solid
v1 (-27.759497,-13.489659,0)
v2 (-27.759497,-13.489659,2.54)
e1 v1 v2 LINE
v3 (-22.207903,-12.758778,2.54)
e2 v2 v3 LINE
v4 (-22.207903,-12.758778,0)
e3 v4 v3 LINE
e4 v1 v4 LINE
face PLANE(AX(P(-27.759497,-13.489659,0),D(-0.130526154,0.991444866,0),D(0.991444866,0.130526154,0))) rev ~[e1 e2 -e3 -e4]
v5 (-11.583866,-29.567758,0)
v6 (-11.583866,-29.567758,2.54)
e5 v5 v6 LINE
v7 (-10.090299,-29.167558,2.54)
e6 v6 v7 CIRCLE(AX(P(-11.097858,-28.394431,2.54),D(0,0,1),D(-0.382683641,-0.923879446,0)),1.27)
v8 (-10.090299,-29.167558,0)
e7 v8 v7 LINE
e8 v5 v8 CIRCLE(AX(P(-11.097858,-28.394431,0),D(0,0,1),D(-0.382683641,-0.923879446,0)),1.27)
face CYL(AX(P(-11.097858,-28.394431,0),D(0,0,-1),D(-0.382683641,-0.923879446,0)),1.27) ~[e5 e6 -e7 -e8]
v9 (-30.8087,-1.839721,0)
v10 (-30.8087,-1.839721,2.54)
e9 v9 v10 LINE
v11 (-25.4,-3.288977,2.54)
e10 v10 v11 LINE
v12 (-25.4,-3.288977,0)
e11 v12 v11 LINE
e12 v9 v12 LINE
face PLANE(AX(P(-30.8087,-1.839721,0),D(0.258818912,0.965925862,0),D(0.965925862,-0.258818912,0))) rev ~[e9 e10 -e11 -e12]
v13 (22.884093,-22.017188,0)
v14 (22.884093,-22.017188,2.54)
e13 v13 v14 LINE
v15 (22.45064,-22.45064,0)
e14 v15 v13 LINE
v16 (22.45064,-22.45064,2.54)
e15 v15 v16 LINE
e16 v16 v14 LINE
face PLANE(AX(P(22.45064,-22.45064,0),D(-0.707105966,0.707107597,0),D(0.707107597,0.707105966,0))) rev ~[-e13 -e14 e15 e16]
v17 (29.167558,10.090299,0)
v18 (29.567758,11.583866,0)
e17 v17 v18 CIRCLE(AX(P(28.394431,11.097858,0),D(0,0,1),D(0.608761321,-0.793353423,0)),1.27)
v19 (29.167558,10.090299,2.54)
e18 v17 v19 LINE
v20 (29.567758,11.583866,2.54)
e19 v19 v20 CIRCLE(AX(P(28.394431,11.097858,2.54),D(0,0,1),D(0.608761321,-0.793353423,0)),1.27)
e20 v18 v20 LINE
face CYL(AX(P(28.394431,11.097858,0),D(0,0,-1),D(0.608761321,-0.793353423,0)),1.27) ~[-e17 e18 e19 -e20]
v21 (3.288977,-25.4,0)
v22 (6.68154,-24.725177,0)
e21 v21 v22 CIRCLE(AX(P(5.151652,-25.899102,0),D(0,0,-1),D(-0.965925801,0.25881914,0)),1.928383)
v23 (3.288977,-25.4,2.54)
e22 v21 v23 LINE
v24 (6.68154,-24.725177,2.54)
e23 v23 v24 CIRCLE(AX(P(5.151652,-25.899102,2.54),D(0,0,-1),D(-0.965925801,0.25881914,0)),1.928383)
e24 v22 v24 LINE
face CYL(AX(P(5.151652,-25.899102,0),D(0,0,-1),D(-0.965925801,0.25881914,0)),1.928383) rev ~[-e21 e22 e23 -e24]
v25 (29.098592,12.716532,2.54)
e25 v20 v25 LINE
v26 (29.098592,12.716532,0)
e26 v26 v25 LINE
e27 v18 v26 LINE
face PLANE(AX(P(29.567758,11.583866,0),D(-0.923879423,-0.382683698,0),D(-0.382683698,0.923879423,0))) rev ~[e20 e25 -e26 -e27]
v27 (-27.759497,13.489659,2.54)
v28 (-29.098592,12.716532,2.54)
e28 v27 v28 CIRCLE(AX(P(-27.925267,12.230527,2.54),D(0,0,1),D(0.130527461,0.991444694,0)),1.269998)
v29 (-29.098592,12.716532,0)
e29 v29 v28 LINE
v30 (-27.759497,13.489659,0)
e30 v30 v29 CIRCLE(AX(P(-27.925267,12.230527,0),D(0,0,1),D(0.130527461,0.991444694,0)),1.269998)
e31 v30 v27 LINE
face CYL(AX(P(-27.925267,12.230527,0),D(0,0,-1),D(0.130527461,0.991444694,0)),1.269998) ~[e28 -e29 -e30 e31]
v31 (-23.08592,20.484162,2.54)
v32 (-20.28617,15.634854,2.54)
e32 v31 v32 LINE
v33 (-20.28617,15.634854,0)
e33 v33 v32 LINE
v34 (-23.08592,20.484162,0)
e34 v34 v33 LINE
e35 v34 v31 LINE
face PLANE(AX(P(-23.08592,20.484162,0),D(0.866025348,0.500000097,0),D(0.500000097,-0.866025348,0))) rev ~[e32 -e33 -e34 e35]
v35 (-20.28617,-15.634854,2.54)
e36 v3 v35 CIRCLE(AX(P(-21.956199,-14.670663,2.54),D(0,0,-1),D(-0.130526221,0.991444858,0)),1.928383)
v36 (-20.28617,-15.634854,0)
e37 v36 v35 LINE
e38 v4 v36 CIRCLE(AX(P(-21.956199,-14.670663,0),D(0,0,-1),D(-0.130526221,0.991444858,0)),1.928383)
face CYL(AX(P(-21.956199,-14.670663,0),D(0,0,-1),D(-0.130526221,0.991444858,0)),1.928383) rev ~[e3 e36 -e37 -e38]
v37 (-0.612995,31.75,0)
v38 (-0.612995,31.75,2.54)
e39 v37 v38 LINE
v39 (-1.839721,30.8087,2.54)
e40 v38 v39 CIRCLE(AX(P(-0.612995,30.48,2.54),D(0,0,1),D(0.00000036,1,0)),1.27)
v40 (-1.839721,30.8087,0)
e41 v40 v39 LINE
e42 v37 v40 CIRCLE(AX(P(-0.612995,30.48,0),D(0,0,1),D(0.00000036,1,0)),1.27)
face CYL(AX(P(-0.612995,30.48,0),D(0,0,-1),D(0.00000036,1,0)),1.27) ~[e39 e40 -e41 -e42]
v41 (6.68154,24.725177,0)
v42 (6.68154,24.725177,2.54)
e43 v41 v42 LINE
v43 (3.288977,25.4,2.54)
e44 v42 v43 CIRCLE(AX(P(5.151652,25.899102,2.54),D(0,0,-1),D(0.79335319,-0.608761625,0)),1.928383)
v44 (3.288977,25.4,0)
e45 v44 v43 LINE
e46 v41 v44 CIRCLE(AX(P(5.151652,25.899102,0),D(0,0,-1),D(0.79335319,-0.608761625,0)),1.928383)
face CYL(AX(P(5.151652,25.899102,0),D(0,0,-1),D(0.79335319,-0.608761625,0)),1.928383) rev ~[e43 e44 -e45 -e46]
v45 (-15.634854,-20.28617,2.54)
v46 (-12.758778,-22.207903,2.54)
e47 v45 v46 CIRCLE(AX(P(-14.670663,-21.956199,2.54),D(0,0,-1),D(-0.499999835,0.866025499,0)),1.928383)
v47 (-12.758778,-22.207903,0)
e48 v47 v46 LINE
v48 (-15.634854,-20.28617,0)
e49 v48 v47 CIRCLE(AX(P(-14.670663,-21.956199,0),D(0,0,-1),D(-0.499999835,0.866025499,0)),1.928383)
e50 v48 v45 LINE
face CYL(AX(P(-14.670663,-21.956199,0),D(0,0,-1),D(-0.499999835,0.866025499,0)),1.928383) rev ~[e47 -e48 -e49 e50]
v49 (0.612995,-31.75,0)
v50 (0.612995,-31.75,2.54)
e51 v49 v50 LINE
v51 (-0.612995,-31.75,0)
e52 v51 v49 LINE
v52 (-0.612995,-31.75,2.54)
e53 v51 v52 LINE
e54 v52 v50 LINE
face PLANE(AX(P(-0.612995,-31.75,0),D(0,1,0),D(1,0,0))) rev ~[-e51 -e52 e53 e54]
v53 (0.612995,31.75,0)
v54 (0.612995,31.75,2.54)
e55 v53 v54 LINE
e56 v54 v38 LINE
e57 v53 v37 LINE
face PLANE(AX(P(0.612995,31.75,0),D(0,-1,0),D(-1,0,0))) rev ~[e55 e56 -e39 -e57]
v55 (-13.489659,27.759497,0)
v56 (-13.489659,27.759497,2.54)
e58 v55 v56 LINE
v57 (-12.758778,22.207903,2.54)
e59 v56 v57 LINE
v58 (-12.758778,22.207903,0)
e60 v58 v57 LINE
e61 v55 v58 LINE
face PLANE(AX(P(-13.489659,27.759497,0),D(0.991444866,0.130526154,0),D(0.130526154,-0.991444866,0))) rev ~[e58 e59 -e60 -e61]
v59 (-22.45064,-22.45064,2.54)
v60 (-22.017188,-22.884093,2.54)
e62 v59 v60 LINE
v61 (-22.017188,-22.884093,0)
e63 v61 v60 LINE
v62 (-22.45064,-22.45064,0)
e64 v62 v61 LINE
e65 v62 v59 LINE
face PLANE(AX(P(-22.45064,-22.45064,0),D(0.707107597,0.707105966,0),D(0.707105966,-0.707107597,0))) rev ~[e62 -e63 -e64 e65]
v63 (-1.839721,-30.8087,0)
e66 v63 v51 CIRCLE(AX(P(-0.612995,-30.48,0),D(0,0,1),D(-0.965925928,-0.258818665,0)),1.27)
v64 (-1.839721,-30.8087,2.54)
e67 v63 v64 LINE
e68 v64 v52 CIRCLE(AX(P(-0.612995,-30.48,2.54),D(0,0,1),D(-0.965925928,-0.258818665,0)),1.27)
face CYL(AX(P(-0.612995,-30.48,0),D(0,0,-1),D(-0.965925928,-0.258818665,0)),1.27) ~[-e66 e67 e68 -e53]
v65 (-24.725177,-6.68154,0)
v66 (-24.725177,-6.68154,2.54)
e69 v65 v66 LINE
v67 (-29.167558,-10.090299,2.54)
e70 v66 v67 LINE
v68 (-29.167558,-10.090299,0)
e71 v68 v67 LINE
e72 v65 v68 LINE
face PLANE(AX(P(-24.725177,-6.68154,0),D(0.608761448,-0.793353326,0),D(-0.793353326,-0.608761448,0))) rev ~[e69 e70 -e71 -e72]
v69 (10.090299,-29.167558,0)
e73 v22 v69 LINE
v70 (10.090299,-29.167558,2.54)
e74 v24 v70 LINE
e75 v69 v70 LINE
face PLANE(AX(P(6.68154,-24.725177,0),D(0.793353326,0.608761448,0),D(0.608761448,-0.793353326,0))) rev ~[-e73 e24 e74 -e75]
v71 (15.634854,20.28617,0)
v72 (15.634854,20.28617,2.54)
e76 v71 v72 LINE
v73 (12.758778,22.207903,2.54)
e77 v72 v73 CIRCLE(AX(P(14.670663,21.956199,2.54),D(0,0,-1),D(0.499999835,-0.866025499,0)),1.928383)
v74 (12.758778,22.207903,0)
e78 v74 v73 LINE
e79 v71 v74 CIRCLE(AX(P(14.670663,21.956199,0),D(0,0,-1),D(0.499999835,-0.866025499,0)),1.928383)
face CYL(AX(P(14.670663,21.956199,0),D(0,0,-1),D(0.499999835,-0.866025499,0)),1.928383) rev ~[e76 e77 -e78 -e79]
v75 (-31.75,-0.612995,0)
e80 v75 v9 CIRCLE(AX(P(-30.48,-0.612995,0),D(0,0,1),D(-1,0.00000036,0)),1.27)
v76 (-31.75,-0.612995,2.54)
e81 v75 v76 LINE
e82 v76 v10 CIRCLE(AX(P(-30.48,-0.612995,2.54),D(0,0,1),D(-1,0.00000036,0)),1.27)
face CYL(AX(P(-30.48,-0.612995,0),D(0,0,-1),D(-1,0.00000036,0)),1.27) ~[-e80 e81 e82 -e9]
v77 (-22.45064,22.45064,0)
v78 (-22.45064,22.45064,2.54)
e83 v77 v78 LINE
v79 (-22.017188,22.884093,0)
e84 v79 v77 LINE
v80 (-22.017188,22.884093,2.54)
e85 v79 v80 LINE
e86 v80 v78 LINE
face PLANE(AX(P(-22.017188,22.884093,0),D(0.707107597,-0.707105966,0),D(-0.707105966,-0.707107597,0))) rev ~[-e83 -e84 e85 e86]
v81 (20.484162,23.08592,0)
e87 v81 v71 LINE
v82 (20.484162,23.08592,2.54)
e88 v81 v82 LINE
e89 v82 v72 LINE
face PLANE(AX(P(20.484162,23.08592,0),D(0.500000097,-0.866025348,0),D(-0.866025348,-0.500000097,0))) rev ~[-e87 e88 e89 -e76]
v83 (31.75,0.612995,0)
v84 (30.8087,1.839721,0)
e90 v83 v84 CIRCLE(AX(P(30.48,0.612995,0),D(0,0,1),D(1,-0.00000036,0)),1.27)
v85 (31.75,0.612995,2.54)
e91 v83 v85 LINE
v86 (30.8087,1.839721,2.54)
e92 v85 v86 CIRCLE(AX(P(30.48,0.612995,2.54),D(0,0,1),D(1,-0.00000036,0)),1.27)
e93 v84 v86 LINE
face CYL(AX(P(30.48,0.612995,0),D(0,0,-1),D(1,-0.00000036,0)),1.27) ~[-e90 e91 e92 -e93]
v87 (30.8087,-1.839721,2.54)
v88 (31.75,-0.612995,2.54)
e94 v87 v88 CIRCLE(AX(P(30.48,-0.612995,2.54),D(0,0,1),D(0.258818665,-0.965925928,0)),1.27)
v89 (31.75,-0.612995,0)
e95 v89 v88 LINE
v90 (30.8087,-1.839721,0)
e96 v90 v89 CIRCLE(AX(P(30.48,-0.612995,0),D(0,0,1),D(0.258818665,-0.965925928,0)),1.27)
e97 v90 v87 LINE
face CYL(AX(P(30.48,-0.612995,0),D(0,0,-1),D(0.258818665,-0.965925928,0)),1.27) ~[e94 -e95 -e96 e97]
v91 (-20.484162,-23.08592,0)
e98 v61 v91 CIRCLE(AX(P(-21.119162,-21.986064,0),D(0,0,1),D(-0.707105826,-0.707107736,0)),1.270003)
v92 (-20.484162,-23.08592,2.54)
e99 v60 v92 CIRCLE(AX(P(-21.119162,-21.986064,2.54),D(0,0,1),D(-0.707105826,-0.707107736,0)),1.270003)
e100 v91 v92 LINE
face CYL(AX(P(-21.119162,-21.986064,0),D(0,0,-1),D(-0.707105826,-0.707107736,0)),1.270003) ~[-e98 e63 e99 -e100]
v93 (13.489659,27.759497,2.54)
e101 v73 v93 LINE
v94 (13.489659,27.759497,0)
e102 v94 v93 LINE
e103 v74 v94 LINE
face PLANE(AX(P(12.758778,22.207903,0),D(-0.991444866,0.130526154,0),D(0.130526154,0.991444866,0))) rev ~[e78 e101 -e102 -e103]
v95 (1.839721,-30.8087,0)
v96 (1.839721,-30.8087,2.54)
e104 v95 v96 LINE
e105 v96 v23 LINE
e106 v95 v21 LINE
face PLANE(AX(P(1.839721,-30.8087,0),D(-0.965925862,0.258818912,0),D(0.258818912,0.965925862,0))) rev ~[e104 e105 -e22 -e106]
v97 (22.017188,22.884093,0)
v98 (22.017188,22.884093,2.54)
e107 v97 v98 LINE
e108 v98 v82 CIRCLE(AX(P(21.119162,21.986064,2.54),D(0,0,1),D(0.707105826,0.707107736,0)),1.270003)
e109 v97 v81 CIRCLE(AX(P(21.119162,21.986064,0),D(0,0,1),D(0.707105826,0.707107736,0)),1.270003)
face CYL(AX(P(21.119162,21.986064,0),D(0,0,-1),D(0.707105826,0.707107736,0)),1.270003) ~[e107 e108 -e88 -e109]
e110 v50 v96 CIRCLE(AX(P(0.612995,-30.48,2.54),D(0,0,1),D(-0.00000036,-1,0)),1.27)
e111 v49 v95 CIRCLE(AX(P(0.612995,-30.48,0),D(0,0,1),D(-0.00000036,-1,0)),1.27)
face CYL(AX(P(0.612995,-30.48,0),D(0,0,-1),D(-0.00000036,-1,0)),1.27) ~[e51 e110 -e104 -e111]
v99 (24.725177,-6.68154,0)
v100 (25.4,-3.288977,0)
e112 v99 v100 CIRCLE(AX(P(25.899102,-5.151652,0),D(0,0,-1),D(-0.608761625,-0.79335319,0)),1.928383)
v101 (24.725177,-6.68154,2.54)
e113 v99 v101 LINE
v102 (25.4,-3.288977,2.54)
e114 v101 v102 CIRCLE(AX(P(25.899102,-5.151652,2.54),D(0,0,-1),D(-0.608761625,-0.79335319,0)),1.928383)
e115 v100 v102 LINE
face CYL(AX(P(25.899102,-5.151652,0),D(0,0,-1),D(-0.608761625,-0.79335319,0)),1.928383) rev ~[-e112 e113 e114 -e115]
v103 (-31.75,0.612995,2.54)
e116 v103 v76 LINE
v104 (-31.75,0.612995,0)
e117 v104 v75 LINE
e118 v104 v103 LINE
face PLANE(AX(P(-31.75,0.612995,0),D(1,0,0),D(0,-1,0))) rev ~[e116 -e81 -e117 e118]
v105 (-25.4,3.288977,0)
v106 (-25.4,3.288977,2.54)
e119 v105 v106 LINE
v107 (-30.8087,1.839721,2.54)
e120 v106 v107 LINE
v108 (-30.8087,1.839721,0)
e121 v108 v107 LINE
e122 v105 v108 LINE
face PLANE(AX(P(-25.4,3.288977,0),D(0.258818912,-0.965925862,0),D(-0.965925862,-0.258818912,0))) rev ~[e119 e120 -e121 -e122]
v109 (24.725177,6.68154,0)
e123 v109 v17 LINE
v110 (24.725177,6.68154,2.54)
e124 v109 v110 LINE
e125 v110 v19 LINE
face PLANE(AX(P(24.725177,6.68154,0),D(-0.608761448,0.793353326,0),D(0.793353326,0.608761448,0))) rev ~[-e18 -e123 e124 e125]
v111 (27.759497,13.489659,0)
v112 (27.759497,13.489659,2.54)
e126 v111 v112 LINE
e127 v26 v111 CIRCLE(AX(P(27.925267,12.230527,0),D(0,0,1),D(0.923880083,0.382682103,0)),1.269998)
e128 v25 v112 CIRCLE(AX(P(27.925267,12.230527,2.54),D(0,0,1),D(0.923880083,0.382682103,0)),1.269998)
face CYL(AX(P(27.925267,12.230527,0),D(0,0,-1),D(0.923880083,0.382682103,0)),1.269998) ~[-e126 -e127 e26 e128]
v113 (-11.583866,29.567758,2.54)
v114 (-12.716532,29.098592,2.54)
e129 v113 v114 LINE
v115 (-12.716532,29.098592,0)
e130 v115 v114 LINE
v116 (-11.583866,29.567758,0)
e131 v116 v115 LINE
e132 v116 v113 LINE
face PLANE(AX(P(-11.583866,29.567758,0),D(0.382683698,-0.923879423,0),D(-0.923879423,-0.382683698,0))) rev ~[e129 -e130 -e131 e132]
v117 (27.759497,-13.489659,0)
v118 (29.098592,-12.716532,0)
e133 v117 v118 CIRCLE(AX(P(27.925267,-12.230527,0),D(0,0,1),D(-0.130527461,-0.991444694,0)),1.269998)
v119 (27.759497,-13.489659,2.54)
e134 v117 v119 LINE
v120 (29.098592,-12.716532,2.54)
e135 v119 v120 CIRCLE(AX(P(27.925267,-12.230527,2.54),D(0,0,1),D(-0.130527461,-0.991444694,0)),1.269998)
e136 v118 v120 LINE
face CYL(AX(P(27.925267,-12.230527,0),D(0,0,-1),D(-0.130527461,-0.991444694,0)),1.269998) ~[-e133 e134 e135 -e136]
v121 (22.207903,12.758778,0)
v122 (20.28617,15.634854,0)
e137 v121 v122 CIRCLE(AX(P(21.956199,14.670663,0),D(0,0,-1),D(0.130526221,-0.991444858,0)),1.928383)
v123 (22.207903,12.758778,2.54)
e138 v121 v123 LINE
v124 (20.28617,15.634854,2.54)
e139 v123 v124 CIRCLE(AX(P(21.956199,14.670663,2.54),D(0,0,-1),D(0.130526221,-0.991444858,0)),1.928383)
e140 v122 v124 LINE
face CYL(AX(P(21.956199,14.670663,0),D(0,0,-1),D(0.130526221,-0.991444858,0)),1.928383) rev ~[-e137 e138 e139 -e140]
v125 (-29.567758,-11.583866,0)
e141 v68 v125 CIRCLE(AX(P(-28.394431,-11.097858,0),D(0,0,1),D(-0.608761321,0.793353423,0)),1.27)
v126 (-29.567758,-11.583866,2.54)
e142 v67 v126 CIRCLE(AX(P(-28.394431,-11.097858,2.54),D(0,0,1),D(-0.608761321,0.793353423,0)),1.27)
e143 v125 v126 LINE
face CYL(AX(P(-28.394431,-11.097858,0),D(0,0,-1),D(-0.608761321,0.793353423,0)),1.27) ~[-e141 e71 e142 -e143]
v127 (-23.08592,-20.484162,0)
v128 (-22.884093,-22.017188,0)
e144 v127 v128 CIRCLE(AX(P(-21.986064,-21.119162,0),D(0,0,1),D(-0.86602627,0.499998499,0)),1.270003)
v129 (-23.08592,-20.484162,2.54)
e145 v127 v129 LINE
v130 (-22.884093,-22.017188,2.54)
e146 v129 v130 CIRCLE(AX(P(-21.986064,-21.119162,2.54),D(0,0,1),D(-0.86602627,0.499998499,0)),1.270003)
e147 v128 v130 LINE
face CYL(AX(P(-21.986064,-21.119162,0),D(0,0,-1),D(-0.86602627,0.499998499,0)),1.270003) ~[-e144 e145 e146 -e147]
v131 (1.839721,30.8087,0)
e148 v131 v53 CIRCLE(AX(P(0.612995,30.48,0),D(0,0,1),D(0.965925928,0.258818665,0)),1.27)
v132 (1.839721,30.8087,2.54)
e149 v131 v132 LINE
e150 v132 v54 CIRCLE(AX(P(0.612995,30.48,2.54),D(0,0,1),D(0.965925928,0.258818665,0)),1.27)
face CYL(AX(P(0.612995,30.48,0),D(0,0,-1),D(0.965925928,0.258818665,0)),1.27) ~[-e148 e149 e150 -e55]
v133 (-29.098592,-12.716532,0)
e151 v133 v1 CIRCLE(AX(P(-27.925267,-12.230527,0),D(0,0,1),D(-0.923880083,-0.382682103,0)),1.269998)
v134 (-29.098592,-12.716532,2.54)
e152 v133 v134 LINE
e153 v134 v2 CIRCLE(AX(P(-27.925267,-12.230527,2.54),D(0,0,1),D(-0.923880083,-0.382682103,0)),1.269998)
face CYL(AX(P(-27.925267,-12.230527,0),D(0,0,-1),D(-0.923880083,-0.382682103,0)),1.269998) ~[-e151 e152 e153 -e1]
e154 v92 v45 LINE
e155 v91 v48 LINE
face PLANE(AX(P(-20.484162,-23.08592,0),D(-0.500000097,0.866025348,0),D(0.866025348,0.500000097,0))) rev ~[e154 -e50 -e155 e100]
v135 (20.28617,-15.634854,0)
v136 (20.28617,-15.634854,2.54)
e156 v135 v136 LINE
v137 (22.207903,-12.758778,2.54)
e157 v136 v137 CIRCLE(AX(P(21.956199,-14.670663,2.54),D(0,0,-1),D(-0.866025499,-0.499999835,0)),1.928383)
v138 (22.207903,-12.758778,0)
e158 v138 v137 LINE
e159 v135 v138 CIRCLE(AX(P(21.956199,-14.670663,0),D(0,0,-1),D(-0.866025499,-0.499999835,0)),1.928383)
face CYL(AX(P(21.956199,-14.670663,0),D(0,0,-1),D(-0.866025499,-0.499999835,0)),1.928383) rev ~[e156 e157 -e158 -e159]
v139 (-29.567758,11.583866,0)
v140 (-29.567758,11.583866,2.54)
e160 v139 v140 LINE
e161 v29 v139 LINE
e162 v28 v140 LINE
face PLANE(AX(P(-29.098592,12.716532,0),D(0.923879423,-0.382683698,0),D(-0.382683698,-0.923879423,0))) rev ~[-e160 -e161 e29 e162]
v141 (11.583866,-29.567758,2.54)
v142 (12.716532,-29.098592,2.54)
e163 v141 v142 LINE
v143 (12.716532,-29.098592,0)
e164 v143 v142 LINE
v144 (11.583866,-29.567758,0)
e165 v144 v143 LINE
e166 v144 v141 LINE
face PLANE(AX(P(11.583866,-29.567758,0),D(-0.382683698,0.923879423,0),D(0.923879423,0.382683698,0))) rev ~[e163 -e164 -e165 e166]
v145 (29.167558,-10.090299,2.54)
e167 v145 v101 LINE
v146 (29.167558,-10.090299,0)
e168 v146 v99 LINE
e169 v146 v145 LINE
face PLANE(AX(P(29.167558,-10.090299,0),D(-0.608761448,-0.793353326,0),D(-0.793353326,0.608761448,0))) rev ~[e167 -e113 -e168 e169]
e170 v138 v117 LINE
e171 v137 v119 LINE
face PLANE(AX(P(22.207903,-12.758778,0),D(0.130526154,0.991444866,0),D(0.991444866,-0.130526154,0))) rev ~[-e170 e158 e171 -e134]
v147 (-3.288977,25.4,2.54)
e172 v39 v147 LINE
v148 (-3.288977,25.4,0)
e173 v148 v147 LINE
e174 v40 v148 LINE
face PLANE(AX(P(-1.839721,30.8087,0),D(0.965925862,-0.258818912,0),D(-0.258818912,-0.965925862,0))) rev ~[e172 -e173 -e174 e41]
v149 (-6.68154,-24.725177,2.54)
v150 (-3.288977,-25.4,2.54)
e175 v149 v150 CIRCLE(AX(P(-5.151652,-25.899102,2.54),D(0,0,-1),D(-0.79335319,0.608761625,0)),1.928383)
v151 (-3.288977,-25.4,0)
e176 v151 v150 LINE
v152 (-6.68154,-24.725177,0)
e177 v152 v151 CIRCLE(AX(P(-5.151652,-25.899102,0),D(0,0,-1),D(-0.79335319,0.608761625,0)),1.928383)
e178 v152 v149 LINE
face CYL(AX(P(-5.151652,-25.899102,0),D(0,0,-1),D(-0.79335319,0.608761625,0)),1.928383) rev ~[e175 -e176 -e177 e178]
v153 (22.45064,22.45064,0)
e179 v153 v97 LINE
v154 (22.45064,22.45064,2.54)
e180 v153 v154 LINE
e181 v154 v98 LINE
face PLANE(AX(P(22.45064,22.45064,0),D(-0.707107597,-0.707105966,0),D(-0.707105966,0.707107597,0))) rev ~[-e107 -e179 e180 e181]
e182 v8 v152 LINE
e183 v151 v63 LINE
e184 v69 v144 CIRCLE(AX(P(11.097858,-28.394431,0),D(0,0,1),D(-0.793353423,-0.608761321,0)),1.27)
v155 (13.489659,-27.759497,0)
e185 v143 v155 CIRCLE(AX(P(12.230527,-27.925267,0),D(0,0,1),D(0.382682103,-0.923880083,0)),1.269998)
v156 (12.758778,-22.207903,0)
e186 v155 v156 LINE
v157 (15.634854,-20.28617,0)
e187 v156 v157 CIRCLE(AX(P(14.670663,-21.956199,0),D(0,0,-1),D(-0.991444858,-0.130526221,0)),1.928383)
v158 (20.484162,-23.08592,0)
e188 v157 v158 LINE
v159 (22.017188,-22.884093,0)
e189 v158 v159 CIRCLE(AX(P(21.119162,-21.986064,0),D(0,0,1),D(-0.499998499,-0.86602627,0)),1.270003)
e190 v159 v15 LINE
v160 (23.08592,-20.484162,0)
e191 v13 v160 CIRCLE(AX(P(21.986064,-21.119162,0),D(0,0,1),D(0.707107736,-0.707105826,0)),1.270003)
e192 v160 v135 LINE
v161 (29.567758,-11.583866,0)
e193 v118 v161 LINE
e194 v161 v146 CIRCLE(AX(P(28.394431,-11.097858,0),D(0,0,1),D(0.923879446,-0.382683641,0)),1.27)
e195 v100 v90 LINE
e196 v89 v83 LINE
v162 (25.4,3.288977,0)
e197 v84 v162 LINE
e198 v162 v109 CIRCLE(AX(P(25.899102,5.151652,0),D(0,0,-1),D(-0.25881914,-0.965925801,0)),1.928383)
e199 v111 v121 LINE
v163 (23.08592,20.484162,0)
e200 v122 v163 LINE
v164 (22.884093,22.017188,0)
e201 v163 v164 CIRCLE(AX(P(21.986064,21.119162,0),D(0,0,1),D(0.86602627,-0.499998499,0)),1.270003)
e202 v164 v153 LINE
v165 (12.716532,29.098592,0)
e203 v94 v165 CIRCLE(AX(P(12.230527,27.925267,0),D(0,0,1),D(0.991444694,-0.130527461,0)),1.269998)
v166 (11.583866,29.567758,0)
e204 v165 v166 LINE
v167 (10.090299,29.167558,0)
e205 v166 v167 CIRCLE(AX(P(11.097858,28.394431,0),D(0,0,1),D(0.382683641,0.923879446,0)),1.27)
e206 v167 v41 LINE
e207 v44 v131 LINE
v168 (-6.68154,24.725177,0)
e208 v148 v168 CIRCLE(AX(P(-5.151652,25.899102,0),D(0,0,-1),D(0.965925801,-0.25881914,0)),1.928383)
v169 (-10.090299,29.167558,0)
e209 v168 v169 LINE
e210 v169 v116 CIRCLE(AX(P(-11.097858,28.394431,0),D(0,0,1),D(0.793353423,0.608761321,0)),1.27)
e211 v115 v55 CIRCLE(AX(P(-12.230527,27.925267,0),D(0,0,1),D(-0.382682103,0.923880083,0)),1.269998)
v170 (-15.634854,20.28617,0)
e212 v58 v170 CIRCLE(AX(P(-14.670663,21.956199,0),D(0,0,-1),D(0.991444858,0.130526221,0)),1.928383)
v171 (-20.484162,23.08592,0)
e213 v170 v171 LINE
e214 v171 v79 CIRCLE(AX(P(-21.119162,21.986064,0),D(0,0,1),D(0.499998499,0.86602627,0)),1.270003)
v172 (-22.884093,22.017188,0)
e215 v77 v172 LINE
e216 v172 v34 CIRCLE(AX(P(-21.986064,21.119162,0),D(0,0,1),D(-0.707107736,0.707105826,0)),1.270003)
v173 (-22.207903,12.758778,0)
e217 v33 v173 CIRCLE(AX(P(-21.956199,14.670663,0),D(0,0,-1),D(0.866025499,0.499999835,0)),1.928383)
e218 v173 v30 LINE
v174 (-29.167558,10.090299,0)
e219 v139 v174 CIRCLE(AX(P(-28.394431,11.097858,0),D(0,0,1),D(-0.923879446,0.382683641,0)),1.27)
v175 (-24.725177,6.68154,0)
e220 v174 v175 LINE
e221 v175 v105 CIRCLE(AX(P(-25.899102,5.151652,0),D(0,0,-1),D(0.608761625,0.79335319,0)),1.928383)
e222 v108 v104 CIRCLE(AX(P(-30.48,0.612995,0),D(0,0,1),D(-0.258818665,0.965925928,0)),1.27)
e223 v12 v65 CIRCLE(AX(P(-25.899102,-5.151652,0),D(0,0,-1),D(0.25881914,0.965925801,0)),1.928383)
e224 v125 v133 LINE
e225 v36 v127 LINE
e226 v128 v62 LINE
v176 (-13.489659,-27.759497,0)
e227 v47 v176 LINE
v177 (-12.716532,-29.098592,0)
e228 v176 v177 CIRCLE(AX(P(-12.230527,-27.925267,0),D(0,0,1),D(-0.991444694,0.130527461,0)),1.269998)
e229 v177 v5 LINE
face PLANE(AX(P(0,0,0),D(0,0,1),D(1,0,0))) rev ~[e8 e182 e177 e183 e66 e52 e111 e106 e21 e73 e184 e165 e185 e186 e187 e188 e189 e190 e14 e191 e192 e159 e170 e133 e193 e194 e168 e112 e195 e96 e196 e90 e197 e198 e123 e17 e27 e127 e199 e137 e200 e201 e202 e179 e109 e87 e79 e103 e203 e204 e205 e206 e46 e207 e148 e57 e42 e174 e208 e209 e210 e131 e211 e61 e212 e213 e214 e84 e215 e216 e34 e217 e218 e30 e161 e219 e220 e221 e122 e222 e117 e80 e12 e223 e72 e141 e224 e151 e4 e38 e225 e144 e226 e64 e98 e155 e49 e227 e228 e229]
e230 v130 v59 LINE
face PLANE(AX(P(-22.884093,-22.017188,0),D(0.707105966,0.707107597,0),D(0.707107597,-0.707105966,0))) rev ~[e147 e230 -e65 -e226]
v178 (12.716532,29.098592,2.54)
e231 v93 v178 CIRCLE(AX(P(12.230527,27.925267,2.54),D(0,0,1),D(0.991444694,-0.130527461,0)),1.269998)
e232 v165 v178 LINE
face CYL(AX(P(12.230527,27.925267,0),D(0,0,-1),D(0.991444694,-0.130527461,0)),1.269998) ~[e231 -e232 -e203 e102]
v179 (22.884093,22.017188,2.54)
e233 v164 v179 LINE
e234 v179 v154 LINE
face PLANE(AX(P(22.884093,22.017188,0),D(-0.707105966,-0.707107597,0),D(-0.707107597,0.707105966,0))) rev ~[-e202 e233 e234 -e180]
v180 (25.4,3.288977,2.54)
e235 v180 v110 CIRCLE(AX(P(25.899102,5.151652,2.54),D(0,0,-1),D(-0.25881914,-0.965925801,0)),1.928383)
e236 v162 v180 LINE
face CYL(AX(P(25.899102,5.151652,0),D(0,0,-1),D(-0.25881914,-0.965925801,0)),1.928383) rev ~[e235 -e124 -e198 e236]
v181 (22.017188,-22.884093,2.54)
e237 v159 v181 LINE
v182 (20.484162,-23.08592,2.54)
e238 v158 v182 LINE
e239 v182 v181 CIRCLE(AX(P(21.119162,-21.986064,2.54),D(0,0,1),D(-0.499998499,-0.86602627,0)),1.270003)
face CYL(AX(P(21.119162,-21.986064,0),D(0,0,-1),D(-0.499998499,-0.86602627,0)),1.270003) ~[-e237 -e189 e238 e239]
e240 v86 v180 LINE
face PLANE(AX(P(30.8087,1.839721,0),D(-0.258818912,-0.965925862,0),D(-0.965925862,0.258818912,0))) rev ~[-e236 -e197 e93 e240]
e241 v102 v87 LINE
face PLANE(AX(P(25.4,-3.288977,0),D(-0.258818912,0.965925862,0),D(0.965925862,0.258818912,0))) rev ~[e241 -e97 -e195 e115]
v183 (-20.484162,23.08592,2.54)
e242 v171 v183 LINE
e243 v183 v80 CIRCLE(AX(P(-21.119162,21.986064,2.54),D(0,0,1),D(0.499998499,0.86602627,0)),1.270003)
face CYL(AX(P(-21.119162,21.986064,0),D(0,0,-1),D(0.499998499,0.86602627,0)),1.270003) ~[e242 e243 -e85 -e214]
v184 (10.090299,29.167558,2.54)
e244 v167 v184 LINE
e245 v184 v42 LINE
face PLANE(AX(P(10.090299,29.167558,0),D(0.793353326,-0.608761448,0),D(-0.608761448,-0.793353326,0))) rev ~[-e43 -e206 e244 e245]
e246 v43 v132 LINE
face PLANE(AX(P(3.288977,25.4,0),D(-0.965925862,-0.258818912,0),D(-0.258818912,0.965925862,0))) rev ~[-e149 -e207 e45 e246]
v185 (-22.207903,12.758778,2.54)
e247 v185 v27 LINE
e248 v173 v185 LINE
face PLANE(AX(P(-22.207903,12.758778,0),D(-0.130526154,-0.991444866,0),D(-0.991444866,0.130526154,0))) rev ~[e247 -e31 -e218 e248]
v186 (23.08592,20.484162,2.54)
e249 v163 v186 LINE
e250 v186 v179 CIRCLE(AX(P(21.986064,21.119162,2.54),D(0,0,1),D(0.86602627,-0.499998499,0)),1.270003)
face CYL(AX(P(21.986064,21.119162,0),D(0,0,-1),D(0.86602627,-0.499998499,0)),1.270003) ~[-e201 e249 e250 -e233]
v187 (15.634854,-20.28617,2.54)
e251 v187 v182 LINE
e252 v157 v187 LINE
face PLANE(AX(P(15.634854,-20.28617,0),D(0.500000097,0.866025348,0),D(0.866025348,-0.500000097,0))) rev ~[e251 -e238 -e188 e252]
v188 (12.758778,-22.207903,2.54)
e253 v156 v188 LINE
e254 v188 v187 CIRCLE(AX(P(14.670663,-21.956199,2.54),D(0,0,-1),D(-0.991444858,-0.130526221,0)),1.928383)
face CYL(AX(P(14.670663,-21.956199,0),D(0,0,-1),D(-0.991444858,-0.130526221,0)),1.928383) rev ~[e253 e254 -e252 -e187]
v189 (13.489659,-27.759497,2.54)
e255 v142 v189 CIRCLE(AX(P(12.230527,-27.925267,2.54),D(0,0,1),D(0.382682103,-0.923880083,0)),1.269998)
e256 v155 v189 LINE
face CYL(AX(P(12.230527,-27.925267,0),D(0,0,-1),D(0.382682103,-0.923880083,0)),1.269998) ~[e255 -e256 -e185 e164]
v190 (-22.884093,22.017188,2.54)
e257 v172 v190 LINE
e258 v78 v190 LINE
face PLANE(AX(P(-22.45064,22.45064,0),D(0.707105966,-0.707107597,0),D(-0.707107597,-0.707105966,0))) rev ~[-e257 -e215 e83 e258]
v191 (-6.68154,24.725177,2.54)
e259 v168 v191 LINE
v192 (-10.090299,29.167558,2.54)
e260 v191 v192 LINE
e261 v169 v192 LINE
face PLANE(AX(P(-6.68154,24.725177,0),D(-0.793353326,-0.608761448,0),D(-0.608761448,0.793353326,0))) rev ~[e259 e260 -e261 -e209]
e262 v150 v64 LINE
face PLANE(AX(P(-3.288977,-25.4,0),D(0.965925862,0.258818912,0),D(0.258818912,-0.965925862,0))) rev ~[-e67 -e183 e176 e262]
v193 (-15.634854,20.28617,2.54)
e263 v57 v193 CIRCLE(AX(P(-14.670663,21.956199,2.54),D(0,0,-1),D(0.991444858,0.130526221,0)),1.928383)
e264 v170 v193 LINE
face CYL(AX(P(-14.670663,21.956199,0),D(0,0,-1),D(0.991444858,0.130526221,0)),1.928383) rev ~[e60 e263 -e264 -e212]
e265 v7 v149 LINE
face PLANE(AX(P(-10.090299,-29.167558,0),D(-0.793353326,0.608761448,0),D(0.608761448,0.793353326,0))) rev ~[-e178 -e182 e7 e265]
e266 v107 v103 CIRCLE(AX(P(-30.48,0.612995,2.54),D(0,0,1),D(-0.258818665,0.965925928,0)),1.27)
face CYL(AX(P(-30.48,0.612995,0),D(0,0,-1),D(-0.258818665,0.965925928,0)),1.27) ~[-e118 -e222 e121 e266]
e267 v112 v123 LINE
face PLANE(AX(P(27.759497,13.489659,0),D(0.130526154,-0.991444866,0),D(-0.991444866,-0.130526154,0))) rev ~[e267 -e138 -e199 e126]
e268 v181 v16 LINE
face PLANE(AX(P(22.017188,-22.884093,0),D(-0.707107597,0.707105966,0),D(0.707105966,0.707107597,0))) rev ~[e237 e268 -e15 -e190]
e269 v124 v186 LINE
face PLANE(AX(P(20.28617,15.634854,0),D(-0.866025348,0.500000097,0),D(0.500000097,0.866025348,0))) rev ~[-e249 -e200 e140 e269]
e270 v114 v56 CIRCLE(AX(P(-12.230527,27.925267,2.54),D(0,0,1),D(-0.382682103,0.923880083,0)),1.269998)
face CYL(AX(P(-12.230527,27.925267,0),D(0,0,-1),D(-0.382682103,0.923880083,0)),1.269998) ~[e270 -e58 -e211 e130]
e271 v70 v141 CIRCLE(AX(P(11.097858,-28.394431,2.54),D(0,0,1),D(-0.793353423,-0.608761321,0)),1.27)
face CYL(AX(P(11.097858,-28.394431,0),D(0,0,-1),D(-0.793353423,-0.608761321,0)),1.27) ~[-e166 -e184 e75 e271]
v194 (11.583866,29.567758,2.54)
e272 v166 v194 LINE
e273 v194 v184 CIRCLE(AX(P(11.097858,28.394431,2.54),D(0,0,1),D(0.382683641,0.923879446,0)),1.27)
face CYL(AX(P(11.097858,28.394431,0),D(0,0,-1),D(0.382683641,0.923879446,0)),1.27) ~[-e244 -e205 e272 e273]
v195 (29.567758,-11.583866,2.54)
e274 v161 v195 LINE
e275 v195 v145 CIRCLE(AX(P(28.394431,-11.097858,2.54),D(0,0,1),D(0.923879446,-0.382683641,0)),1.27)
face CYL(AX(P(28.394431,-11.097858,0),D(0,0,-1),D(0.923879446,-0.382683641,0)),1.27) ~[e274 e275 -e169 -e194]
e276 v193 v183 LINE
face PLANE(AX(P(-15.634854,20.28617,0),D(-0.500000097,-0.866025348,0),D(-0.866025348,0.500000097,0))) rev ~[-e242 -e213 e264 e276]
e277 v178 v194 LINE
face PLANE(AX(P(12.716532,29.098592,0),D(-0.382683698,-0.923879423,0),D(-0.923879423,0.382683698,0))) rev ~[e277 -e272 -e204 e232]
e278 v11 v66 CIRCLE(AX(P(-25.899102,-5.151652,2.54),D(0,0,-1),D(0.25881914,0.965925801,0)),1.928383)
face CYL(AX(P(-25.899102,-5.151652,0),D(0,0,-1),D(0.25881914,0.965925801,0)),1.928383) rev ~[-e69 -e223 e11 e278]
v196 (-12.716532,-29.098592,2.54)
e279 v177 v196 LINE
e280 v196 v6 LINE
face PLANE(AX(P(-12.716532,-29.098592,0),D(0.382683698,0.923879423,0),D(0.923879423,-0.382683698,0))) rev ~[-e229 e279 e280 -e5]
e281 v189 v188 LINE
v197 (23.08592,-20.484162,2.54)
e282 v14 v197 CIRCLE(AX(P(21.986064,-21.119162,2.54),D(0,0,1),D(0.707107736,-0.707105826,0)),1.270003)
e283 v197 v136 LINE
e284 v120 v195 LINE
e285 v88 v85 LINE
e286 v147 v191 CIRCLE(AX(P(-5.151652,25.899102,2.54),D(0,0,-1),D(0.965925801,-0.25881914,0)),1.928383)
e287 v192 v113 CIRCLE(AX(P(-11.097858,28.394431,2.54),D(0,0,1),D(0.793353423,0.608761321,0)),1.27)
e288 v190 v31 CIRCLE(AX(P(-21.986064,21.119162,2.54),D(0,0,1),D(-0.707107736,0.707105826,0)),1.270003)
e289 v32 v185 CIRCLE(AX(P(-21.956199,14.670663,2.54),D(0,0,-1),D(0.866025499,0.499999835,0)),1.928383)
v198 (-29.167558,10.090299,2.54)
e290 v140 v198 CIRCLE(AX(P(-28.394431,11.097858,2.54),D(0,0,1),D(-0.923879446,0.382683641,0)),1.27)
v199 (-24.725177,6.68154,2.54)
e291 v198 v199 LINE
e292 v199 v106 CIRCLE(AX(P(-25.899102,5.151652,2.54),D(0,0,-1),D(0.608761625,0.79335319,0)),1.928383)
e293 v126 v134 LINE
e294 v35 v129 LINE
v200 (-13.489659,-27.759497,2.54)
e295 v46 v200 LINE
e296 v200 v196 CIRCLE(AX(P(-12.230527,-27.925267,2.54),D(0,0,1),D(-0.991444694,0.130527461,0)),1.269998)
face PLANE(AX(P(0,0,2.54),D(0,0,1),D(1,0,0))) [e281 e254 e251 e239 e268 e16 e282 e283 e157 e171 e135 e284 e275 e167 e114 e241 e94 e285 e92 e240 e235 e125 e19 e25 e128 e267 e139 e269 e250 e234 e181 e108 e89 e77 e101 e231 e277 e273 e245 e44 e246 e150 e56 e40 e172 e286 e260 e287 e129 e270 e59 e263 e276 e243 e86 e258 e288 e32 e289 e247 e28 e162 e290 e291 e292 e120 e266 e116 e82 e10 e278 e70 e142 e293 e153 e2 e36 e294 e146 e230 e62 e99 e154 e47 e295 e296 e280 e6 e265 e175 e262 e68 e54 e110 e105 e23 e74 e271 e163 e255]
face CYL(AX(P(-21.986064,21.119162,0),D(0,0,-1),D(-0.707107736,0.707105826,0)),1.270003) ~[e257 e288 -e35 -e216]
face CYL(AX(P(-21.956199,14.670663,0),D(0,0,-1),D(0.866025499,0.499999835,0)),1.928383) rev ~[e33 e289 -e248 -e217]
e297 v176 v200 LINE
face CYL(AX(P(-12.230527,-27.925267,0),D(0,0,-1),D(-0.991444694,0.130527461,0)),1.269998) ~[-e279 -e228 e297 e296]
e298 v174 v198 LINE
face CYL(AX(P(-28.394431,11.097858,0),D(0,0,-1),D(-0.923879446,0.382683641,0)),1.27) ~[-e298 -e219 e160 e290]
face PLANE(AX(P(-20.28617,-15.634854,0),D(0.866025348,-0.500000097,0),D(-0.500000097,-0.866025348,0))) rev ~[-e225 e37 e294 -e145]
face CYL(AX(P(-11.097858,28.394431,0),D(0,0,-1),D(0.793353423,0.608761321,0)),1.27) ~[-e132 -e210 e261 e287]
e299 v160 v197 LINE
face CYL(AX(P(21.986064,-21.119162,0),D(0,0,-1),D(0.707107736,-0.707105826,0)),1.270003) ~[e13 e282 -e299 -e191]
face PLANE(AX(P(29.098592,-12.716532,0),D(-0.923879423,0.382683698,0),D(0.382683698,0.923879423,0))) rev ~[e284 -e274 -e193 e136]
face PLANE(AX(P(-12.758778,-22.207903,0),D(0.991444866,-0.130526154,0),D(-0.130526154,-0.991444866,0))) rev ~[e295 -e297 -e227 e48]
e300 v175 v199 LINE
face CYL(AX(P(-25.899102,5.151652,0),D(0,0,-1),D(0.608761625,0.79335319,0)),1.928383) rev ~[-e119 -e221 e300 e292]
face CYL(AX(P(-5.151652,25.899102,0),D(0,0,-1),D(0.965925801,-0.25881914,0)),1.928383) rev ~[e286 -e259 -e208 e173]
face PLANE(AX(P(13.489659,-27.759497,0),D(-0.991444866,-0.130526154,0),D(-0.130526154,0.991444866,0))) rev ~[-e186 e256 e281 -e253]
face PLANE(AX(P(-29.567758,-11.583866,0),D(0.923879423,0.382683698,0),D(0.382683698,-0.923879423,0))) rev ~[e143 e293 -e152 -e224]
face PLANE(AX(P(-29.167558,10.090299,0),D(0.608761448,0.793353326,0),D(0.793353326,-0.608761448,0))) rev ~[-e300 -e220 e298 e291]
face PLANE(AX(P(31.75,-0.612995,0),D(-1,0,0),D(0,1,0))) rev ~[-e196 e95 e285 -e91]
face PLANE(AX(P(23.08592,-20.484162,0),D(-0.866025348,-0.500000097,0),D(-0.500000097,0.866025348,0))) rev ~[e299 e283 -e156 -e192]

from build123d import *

# Parameters (mm, degrees)
F1_DEPTH = 2.54


with BuildPart() as f1:
    # F0 (on Top) → F1 (new body)
    with BuildSketch(Plane.XY):
        with BuildLine():
            Line((1.839721, -30.8087), (3.288977, -25.4))
            ThreePointArc((3.288977, -25.4), (4.775443, -24.007773), (6.68154, -24.725177))
            Line((6.68154, -24.725177), (10.090299, -29.167558))
            ThreePointArc((10.090299, -29.167558), (10.769158, -29.621157), (11.583866, -29.567758))
            Line((11.583866, -29.567758), (12.150199, -29.333175))
            Line((12.150199, -29.333175), (12.716532, -29.098592))
            ThreePointArc((12.716532, -29.098592), (13.330377, -28.560265), (13.489659, -27.759497))
            Line((13.489659, -27.759497), (12.758778, -22.207903))
            ThreePointArc((12.758778, -22.207903), (13.599311, -20.352807), (15.634854, -20.28617))
            Line((15.634854, -20.28617), (20.484162, -23.08592))
            ThreePointArc((20.484162, -23.08592), (21.28493, -23.245202), (22.017188, -22.884093))
            Line((22.017188, -22.884093), (22.45064, -22.45064))
            Line((22.45064, -22.45064), (22.884093, -22.017188))
            ThreePointArc((22.884093, -22.017188), (23.245202, -21.28493), (23.08592, -20.484162))
            Line((23.08592, -20.484162), (20.28617, -15.634854))
            ThreePointArc((20.28617, -15.634854), (20.352807, -13.599311), (22.207903, -12.758778))
            Line((22.207903, -12.758778), (27.759497, -13.489659))
            ThreePointArc((27.759497, -13.489659), (28.560265, -13.330377), (29.098592, -12.716532))
            Line((29.098592, -12.716532), (29.333175, -12.150199))
            Line((29.333175, -12.150199), (29.567758, -11.583866))
            ThreePointArc((29.567758, -11.583866), (29.621157, -10.769158), (29.167558, -10.090299))
            Line((29.167558, -10.090299), (24.725177, -6.68154))
            ThreePointArc((24.725177, -6.68154), (24.007773, -4.775443), (25.4, -3.288977))
            Line((25.4, -3.288977), (30.8087, -1.839721))
            ThreePointArc((30.8087, -1.839721), (31.487559, -1.386122), (31.75, -0.612995))
            Line((31.75, -0.612995), (31.75, 0))
            Line((31.75, 0), (31.75, 0.612995))
            ThreePointArc((31.75, 0.612995), (31.487559, 1.386122), (30.8087, 1.839721))
            Line((30.8087, 1.839721), (25.4, 3.288977))
            ThreePointArc((25.4, 3.288977), (24.007773, 4.775443), (24.725177, 6.68154))
            Line((24.725177, 6.68154), (29.167558, 10.090299))
            ThreePointArc((29.167558, 10.090299), (29.621157, 10.769158), (29.567758, 11.583866))
            Line((29.567758, 11.583866), (29.333175, 12.150199))
            Line((29.333175, 12.150199), (29.098592, 12.716532))
            ThreePointArc((29.098592, 12.716532), (28.560265, 13.330377), (27.759497, 13.489659))
            Line((27.759497, 13.489659), (22.207903, 12.758778))
            ThreePointArc((22.207903, 12.758778), (20.352807, 13.599311), (20.28617, 15.634854))
            Line((20.28617, 15.634854), (23.08592, 20.484162))
            ThreePointArc((23.08592, 20.484162), (23.245202, 21.28493), (22.884093, 22.017188))
            Line((22.884093, 22.017188), (22.45064, 22.45064))
            Line((22.45064, 22.45064), (22.017188, 22.884093))
            ThreePointArc((22.017188, 22.884093), (21.28493, 23.245202), (20.484162, 23.08592))
            Line((20.484162, 23.08592), (15.634854, 20.28617))
            ThreePointArc((15.634854, 20.28617), (13.599311, 20.352807), (12.758778, 22.207903))
            Line((12.758778, 22.207903), (13.489659, 27.759497))
            ThreePointArc((13.489659, 27.759497), (13.330377, 28.560265), (12.716532, 29.098592))
            Line((12.716532, 29.098592), (12.150199, 29.333175))
            Line((12.150199, 29.333175), (11.583866, 29.567758))
            ThreePointArc((11.583866, 29.567758), (10.769158, 29.621157), (10.090299, 29.167558))
            Line((10.090299, 29.167558), (6.68154, 24.725177))
            ThreePointArc((6.68154, 24.725177), (4.775443, 24.007773), (3.288977, 25.4))
            Line((3.288977, 25.4), (1.839721, 30.8087))
            ThreePointArc((1.839721, 30.8087), (1.386122, 31.487559), (0.612995, 31.75))
            Line((0.612995, 31.75), (0, 31.75))
            Line((0, 31.75), (-0.612995, 31.75))
            ThreePointArc((-0.612995, 31.75), (-1.386122, 31.487559), (-1.839721, 30.8087))
            Line((-1.839721, 30.8087), (-3.288977, 25.4))
            ThreePointArc((-3.288977, 25.4), (-4.775443, 24.007773), (-6.68154, 24.725177))
            Line((-6.68154, 24.725177), (-10.090299, 29.167558))
            ThreePointArc((-10.090299, 29.167558), (-10.769158, 29.621157), (-11.583866, 29.567758))
            Line((-11.583866, 29.567758), (-12.150199, 29.333175))
            Line((-12.150199, 29.333175), (-12.716532, 29.098592))
            ThreePointArc((-12.716532, 29.098592), (-13.330377, 28.560265), (-13.489659, 27.759497))
            Line((-13.489659, 27.759497), (-12.758778, 22.207903))
            ThreePointArc((-12.758778, 22.207903), (-13.599311, 20.352807), (-15.634854, 20.28617))
            Line((-15.634854, 20.28617), (-20.484162, 23.08592))
            ThreePointArc((-20.484162, 23.08592), (-21.28493, 23.245202), (-22.017188, 22.884093))
            Line((-22.017188, 22.884093), (-22.45064, 22.45064))
            Line((-22.45064, 22.45064), (-22.884093, 22.017188))
            ThreePointArc((-22.884093, 22.017188), (-23.245202, 21.28493), (-23.08592, 20.484162))
            Line((-23.08592, 20.484162), (-20.28617, 15.634854))
            ThreePointArc((-20.28617, 15.634854), (-20.352807, 13.599311), (-22.207903, 12.758778))
            Line((-22.207903, 12.758778), (-27.759497, 13.489659))
            ThreePointArc((-27.759497, 13.489659), (-28.560265, 13.330377), (-29.098592, 12.716532))
            Line((-29.098592, 12.716532), (-29.333175, 12.150199))
            Line((-29.333175, 12.150199), (-29.567758, 11.583866))
            ThreePointArc((-29.567758, 11.583866), (-29.621157, 10.769158), (-29.167558, 10.090299))
            Line((-29.167558, 10.090299), (-24.725177, 6.68154))
            ThreePointArc((-24.725177, 6.68154), (-24.007773, 4.775443), (-25.4, 3.288977))
            Line((-25.4, 3.288977), (-30.8087, 1.839721))
            ThreePointArc((-30.8087, 1.839721), (-31.487559, 1.386122), (-31.75, 0.612995))
            Line((-31.75, 0.612995), (-31.75, 0))
            Line((-31.75, 0), (-31.75, -0.612995))
            ThreePointArc((-31.75, -0.612995), (-31.487559, -1.386122), (-30.8087, -1.839721))
            Line((-30.8087, -1.839721), (-25.4, -3.288977))
            ThreePointArc((-25.4, -3.288977), (-24.007773, -4.775443), (-24.725177, -6.68154))
            Line((-24.725177, -6.68154), (-29.167558, -10.090299))
            ThreePointArc((-29.167558, -10.090299), (-29.621157, -10.769158), (-29.567758, -11.583866))
            Line((-29.567758, -11.583866), (-29.333175, -12.150199))
            Line((-29.333175, -12.150199), (-29.098592, -12.716532))
            ThreePointArc((-29.098592, -12.716532), (-28.560265, -13.330377), (-27.759497, -13.489659))
            Line((-27.759497, -13.489659), (-22.207903, -12.758778))
            ThreePointArc((-22.207903, -12.758778), (-20.352807, -13.599311), (-20.28617, -15.634854))
            Line((-20.28617, -15.634854), (-23.08592, -20.484162))
            ThreePointArc((-23.08592, -20.484162), (-23.245202, -21.28493), (-22.884093, -22.017188))
            Line((-22.884093, -22.017188), (-22.45064, -22.45064))
            Line((-22.45064, -22.45064), (-22.017188, -22.884093))
            ThreePointArc((-22.017188, -22.884093), (-21.28493, -23.245202), (-20.484162, -23.08592))
            Line((-20.484162, -23.08592), (-15.634854, -20.28617))
            ThreePointArc((-15.634854, -20.28617), (-13.599311, -20.352807), (-12.758778, -22.207903))
            Line((-12.758778, -22.207903), (-13.489659, -27.759497))
            ThreePointArc((-13.489659, -27.759497), (-13.330377, -28.560265), (-12.716532, -29.098592))
            Line((-12.716532, -29.098592), (-12.150199, -29.333175))
            Line((-12.150199, -29.333175), (-11.583866, -29.567758))
            ThreePointArc((-11.583866, -29.567758), (-10.769158, -29.621157), (-10.090299, -29.167558))
            Line((-10.090299, -29.167558), (-6.68154, -24.725177))
            ThreePointArc((-6.68154, -24.725177), (-4.775443, -24.007773), (-3.288977, -25.4))
            Line((-3.288977, -25.4), (-1.839721, -30.8087))
            ThreePointArc((-1.839721, -30.8087), (-1.386122, -31.487559), (-0.612995, -31.75))
            Line((-0.612995, -31.75), (0, -31.75))
            Line((0, -31.75), (0.612995, -31.75))
            ThreePointArc((0.612995, -31.75), (1.386122, -31.487559), (1.839721, -30.8087))
        make_face()
    extrude(amount=F1_DEPTH)


solid = f1.part
